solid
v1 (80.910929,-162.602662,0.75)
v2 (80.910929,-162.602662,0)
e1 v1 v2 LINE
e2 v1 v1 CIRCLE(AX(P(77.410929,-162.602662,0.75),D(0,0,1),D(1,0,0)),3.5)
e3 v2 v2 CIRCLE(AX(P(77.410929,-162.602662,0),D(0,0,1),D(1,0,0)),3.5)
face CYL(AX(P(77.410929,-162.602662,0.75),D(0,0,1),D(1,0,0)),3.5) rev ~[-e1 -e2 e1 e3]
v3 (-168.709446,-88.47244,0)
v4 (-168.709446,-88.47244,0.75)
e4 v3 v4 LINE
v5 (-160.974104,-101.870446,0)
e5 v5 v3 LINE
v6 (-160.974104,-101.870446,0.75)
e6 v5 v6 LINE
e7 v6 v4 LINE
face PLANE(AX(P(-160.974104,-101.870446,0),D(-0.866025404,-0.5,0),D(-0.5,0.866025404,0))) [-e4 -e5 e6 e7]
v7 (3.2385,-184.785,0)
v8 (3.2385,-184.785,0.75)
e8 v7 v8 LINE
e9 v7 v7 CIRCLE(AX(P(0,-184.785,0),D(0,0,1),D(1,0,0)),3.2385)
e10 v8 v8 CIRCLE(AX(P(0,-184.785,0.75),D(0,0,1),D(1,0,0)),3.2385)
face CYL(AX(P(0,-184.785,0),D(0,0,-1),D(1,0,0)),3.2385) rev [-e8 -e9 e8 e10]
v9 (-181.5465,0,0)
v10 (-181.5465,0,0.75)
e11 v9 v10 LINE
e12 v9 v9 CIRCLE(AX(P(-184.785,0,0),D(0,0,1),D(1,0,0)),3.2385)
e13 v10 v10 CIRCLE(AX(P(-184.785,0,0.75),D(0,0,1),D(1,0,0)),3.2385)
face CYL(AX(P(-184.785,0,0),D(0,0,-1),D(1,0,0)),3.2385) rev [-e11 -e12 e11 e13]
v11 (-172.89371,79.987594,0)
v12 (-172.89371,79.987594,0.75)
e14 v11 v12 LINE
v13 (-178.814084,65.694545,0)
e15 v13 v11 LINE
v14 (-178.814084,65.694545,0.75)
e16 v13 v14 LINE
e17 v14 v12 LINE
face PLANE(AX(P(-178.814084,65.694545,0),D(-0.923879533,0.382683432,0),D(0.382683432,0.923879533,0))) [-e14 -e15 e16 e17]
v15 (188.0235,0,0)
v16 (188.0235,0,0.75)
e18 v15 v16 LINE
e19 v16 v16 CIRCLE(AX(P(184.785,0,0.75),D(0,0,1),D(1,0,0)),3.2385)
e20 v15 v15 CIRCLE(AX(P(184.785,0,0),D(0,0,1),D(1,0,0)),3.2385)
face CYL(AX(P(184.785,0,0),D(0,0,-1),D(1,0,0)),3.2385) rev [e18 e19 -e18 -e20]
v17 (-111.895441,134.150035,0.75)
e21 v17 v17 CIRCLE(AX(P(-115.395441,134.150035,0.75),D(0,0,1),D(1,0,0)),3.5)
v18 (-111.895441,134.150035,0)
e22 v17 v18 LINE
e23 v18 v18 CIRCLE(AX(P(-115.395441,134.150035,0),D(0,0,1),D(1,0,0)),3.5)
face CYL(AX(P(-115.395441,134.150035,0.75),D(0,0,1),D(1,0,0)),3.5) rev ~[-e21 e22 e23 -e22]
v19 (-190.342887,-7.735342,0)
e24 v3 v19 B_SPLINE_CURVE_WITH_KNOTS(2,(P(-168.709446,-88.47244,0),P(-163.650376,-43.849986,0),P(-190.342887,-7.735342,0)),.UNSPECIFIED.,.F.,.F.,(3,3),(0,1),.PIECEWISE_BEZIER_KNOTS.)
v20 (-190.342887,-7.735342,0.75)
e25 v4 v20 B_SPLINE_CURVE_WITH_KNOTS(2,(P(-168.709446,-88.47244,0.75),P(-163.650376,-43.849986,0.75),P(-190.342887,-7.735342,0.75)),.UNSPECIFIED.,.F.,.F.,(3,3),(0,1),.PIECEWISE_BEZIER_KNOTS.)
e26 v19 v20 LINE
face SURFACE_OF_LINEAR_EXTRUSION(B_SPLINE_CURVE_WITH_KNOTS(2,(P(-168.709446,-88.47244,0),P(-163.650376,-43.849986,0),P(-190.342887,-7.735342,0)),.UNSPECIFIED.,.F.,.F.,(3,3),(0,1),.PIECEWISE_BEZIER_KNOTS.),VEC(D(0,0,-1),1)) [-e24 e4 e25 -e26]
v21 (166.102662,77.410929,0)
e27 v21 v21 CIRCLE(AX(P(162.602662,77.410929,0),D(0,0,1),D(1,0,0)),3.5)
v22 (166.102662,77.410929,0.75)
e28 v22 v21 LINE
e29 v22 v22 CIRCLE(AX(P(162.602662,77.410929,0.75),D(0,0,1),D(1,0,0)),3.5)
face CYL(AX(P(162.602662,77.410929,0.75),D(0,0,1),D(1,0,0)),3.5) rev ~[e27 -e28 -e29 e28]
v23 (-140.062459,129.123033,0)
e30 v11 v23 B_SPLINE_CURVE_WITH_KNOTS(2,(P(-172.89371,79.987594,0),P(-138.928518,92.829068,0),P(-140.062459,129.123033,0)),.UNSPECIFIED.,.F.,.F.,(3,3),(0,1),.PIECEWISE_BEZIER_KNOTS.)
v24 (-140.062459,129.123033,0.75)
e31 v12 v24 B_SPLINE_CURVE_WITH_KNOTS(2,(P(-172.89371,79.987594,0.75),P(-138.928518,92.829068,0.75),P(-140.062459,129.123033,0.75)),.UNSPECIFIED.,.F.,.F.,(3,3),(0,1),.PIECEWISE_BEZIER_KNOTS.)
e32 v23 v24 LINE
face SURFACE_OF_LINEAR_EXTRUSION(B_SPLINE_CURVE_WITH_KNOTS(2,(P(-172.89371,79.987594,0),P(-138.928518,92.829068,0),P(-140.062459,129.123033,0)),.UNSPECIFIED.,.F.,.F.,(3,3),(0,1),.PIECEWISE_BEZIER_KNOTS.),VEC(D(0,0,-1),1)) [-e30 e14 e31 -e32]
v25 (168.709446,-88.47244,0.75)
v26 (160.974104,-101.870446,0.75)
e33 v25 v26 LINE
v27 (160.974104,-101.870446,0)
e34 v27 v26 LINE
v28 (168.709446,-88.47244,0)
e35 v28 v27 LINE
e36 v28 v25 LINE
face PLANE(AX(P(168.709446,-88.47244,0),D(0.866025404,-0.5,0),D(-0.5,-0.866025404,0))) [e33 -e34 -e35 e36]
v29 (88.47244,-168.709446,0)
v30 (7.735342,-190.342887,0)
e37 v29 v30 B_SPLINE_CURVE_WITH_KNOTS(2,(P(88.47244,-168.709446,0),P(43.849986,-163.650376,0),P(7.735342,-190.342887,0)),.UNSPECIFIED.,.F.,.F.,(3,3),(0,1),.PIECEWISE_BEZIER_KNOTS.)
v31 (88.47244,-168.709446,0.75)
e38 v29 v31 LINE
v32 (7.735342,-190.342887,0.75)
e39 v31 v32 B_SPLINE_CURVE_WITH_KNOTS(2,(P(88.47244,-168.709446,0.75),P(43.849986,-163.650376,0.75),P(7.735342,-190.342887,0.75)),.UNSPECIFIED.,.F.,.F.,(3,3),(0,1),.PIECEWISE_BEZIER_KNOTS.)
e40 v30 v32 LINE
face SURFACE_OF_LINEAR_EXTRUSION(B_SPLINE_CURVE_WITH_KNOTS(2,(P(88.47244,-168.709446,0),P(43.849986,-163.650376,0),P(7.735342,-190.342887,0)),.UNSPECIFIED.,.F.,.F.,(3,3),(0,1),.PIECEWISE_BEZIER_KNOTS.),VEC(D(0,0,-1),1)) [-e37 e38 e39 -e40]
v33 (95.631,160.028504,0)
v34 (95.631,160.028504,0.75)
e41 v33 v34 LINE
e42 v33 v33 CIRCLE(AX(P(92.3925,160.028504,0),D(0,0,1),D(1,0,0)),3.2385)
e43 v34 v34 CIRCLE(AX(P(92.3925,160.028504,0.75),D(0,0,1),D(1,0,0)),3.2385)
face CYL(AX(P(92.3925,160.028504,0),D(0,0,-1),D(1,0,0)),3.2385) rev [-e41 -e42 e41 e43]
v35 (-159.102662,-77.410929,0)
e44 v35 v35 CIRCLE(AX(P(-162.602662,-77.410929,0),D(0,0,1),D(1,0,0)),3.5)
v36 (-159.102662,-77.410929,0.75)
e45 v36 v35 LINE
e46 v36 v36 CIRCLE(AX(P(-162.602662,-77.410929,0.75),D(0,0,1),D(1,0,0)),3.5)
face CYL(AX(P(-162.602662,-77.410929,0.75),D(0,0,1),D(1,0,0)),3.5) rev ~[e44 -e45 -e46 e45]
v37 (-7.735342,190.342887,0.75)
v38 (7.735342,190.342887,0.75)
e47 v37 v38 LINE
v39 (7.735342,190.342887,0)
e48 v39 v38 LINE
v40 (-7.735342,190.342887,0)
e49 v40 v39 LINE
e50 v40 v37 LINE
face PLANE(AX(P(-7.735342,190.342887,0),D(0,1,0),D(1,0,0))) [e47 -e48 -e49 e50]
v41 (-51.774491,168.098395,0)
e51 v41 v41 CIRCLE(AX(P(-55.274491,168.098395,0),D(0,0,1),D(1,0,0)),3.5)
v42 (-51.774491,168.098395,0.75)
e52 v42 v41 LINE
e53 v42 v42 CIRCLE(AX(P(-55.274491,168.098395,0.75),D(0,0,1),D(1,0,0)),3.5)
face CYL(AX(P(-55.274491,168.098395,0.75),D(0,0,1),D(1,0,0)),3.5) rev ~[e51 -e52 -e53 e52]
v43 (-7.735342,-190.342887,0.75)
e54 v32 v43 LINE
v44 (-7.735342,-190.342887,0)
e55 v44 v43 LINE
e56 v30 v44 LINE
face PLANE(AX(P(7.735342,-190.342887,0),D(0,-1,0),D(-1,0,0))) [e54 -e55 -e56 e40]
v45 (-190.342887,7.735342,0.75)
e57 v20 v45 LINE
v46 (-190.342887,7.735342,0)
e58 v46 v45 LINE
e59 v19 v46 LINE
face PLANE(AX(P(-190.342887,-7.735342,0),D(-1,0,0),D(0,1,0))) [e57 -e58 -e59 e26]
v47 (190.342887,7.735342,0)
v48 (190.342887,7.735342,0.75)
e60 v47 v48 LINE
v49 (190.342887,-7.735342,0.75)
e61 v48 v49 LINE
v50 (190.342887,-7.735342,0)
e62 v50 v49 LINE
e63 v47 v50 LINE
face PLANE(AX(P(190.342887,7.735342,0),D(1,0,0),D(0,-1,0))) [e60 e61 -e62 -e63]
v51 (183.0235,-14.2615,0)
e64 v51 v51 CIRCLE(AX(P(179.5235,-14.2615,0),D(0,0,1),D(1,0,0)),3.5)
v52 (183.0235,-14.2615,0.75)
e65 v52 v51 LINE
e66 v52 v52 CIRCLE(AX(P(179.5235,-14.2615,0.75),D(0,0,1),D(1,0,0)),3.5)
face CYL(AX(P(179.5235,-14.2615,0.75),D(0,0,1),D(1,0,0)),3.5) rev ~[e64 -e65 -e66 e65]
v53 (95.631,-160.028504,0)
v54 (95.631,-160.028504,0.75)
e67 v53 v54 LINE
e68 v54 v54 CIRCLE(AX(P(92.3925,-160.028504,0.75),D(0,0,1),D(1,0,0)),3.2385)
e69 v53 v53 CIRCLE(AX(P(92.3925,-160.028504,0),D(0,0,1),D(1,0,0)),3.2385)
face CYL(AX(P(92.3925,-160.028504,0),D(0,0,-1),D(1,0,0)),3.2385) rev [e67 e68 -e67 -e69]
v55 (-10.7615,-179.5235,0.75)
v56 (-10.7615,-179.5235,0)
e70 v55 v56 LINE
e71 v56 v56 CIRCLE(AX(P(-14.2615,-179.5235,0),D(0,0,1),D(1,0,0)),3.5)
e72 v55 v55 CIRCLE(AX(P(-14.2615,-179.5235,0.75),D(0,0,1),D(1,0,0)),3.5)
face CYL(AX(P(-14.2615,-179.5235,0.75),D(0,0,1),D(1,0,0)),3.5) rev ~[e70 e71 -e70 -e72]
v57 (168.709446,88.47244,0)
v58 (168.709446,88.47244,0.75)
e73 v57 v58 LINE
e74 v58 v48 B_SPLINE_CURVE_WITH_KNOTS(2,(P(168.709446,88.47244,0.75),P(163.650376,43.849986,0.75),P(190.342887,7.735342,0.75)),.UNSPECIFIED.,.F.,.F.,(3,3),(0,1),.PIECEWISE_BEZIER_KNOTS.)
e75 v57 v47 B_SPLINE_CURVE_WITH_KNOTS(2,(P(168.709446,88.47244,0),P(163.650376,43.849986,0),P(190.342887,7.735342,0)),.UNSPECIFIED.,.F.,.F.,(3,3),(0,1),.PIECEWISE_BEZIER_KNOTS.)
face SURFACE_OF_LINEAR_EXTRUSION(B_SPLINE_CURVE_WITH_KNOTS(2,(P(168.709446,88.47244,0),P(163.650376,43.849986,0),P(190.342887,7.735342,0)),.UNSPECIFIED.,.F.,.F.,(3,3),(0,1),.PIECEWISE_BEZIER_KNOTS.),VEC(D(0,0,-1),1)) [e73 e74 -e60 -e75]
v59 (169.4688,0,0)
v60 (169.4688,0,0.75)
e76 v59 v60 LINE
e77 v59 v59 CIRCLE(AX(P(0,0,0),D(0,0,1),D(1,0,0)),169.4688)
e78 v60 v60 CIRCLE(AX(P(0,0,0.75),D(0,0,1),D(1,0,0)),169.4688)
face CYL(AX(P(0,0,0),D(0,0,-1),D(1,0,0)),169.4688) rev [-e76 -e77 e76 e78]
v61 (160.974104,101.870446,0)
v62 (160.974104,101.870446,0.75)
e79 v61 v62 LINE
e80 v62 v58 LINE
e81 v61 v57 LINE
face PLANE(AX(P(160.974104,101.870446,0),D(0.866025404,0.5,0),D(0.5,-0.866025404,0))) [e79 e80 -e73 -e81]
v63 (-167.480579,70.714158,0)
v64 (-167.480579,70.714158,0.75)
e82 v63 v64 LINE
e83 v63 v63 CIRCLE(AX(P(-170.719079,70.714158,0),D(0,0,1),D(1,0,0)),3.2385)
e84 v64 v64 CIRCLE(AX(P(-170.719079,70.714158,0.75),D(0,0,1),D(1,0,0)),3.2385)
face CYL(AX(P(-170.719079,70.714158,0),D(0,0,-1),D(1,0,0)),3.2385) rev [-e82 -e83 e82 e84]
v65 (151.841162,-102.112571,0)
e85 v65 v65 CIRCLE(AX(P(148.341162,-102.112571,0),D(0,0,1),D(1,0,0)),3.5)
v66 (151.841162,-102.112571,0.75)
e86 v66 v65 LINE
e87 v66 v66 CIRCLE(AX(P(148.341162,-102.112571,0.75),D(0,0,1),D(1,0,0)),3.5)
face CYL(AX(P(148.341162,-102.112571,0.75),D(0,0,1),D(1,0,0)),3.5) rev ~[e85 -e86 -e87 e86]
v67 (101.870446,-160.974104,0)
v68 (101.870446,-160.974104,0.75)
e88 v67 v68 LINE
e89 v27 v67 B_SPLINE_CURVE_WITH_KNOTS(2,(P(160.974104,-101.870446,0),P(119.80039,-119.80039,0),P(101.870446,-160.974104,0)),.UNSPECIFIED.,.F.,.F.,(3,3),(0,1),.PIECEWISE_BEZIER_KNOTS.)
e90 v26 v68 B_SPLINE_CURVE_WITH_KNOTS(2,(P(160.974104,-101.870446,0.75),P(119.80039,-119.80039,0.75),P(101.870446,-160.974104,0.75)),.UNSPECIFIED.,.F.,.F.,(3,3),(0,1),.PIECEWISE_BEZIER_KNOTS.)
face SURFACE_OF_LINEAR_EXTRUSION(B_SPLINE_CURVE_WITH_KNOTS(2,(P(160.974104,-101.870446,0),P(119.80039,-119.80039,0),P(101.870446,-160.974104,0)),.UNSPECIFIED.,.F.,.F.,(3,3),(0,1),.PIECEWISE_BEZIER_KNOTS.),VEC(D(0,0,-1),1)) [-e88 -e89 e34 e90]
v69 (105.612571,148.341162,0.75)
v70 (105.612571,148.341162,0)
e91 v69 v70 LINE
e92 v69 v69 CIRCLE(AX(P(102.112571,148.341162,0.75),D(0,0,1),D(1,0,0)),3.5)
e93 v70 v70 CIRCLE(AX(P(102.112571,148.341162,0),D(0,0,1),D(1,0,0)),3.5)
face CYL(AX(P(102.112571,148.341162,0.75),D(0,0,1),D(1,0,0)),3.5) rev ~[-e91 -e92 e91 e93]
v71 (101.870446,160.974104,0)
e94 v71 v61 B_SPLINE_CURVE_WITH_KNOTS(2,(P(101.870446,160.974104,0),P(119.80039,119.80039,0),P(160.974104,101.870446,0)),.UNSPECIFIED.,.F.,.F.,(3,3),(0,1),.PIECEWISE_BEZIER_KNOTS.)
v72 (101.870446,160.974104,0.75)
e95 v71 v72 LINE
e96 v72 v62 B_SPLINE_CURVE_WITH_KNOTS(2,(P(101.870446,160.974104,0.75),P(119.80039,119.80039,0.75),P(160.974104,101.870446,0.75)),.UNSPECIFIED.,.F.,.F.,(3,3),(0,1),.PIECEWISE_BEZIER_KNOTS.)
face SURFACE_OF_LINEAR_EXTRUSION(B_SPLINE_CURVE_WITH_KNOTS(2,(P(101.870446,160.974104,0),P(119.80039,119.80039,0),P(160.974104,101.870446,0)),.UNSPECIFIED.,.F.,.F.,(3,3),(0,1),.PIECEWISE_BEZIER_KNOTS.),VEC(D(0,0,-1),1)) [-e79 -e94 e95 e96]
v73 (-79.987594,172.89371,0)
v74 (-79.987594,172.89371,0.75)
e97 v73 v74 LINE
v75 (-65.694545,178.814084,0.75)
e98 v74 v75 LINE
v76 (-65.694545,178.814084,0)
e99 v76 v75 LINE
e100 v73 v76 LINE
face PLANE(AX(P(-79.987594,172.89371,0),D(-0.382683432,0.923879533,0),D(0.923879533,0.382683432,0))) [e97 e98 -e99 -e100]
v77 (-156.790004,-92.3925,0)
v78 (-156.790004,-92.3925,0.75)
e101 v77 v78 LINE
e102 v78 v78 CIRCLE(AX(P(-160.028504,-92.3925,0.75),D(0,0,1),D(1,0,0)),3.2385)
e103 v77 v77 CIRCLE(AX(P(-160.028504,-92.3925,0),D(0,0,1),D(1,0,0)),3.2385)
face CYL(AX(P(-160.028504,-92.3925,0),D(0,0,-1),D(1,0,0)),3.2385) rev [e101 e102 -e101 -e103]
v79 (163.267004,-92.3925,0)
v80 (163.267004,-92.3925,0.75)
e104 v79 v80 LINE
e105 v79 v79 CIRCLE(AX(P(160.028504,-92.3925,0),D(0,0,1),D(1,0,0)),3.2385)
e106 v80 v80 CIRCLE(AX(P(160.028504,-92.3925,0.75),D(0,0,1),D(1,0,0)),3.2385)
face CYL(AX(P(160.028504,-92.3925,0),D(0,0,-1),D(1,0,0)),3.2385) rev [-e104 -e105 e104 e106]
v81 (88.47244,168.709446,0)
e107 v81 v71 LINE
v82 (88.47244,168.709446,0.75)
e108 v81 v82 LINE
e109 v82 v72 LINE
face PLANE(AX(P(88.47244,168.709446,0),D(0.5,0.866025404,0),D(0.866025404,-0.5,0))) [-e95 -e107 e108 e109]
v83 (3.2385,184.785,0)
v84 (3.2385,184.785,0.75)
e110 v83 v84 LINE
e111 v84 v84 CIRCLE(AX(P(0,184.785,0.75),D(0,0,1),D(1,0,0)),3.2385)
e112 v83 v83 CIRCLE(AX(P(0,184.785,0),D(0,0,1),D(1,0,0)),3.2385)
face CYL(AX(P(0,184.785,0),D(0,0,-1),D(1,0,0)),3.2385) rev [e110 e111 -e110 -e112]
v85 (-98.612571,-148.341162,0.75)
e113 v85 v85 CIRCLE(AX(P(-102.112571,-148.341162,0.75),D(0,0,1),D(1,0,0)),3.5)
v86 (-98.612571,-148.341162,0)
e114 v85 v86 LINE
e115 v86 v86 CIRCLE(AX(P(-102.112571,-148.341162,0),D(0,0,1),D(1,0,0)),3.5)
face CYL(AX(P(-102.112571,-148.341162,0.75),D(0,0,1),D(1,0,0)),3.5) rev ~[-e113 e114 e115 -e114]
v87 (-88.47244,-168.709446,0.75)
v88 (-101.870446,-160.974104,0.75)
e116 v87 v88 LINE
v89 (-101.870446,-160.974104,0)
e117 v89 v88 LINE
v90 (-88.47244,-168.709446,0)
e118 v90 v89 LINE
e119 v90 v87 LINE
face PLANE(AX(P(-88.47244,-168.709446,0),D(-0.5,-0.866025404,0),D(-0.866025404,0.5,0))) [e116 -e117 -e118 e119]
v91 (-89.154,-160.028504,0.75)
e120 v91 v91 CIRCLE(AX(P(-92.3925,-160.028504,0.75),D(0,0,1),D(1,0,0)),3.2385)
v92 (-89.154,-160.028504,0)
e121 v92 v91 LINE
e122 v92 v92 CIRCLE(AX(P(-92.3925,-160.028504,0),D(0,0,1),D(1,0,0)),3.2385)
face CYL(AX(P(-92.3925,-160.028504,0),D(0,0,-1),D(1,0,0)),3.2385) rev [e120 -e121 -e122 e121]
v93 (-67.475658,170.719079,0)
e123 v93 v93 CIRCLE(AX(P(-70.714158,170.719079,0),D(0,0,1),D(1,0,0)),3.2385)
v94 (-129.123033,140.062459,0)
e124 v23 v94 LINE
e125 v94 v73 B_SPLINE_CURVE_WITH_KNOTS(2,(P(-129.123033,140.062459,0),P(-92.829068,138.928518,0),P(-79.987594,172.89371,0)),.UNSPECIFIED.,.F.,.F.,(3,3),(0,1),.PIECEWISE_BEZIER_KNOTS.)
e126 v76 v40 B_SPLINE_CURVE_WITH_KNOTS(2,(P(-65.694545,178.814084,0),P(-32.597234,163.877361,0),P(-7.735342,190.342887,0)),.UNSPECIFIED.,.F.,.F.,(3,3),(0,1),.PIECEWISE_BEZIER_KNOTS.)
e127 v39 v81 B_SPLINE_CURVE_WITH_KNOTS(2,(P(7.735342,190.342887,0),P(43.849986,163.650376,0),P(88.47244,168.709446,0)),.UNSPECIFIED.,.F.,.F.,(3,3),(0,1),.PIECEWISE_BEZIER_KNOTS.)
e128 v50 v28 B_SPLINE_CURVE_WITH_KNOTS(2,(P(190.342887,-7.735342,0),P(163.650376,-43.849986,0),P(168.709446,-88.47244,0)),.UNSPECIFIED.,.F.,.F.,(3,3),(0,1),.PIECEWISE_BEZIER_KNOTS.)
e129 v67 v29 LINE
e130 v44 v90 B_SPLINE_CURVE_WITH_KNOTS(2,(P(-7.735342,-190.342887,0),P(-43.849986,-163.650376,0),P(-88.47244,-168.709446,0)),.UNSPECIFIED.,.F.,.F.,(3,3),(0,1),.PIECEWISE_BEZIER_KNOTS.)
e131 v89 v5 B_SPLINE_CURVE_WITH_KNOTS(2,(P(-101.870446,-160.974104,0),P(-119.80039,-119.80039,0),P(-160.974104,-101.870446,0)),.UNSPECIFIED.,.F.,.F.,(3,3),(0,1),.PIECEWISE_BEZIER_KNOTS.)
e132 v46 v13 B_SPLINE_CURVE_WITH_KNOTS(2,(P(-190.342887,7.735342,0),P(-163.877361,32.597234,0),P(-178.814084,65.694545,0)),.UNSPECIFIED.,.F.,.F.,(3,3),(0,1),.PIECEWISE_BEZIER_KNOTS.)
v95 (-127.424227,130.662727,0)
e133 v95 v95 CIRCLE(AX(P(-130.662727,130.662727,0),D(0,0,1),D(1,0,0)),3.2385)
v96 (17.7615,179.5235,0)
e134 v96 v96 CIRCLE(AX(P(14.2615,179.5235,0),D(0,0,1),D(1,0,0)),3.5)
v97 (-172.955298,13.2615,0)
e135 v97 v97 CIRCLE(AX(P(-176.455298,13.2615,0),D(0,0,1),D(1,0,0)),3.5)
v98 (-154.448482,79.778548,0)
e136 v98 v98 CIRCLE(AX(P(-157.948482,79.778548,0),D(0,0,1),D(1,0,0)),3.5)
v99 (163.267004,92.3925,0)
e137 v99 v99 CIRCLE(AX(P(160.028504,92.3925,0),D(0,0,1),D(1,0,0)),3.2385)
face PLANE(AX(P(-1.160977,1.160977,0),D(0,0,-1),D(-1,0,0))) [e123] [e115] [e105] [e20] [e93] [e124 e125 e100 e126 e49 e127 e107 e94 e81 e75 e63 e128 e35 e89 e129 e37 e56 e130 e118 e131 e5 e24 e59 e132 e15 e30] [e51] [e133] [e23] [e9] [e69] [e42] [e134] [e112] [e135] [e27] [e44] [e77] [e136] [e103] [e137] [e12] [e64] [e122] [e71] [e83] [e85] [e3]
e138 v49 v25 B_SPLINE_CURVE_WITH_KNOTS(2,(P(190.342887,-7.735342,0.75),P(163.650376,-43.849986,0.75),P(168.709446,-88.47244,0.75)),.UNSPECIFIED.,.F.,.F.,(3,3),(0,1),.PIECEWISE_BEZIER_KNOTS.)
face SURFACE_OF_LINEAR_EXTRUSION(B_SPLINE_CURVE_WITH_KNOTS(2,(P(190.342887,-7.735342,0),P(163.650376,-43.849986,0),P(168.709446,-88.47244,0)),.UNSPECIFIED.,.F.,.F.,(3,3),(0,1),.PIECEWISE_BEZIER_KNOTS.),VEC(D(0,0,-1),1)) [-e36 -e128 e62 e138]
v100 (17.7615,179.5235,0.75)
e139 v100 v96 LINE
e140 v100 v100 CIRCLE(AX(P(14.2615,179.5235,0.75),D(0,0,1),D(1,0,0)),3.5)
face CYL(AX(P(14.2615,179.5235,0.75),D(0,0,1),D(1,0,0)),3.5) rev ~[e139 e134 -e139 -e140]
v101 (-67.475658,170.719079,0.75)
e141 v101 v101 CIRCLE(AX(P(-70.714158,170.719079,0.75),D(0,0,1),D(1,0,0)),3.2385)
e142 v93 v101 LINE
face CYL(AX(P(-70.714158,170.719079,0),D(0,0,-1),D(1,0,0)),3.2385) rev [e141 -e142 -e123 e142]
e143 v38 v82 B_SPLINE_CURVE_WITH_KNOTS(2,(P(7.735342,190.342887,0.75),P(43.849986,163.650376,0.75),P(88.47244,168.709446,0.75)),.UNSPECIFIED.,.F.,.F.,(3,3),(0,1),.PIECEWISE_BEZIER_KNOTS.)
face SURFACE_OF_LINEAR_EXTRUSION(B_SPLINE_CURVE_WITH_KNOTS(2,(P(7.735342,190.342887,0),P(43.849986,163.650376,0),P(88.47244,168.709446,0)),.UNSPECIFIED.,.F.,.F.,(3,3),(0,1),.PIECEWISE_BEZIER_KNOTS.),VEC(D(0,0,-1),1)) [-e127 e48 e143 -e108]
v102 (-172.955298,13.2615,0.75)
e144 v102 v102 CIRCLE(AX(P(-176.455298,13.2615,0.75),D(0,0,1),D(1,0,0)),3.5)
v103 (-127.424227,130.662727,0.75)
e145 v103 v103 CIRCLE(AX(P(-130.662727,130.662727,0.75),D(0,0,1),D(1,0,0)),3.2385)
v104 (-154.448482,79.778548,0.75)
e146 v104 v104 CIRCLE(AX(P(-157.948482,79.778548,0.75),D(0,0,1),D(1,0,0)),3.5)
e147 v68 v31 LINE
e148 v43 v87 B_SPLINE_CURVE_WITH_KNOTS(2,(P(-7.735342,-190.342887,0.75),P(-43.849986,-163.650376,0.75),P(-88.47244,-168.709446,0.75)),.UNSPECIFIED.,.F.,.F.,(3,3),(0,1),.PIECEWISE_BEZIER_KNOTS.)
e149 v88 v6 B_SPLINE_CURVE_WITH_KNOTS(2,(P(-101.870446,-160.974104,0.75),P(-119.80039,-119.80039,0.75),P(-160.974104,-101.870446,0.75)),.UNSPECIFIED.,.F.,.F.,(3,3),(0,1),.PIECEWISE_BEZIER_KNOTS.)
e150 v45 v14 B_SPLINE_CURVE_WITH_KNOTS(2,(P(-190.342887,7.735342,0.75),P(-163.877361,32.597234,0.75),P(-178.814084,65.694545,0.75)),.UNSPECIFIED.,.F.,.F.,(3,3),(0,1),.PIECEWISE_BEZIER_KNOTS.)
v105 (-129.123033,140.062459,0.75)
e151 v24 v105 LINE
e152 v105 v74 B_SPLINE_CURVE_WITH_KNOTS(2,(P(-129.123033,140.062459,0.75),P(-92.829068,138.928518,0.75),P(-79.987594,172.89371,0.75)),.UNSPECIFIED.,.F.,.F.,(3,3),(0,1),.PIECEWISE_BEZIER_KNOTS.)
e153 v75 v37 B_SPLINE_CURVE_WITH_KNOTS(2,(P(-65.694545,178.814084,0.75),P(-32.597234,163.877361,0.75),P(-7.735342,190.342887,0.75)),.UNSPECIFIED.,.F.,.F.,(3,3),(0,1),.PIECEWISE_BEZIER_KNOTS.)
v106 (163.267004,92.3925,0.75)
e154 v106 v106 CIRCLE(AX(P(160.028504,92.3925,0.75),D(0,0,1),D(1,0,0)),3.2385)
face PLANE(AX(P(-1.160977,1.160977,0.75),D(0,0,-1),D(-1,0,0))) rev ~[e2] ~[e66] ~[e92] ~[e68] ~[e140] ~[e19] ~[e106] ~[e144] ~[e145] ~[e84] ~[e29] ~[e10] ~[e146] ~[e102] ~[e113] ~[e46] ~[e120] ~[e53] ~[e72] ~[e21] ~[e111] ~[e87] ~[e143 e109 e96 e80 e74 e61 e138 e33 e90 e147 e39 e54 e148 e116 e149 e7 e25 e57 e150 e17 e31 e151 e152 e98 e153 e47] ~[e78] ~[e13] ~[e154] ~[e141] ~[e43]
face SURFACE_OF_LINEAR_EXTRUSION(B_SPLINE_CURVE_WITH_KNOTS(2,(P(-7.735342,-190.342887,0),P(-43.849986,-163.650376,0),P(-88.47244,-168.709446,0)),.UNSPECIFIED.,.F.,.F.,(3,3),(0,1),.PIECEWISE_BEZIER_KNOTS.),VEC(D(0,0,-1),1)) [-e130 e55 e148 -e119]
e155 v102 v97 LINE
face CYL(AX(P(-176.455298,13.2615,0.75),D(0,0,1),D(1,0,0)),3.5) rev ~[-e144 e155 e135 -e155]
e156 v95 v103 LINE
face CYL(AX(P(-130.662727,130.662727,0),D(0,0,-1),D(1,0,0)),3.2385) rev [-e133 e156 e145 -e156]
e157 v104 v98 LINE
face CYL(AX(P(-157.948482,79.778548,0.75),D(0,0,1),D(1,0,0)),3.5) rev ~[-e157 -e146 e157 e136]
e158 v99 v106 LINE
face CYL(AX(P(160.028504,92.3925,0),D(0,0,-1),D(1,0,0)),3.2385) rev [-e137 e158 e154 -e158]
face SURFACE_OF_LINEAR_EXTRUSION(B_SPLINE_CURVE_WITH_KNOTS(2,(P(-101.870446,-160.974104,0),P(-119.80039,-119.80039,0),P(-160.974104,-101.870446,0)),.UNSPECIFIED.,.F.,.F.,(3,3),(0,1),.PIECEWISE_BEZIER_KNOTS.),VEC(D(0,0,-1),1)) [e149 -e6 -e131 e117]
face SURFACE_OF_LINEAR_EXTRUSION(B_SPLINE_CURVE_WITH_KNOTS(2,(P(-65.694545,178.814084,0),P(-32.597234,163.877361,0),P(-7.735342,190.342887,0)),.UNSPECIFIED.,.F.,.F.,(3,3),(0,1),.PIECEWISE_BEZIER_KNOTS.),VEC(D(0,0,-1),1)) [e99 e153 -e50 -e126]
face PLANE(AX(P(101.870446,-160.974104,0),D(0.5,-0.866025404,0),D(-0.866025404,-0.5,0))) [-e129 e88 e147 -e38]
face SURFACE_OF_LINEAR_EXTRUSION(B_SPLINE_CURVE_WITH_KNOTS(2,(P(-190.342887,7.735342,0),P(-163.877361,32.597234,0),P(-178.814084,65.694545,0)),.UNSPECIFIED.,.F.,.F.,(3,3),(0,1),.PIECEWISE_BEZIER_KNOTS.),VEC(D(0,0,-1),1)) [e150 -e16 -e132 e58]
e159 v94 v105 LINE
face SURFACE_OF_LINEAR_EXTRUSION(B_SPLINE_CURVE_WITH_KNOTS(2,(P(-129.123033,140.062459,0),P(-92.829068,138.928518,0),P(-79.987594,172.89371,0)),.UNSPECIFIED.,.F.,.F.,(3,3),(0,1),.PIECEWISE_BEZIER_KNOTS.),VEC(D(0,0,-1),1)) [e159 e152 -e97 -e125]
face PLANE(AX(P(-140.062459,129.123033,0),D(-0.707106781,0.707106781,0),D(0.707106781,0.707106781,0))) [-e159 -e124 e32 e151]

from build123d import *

# Parameters (mm, degrees)
SKETCH4_R           = 169.4688
SKETCH4_R_2         = 3.2385
BOSS_EXTRUDE2_DEPTH = 0.75
SKETCH8_R           = 3.5
CUT_EXTRUDE2_DEPTH  = 1.7500001


with BuildPart() as part:
    # Sketch4 → Boss-Extrude2 (new body)
    with BuildSketch(Plane.XY):
        with BuildLine():
            Line((-7.735342369, 190.342886598), (7.735342369, 190.342886598))
            add(Edge.make_bspline(
                [(7.735342369, 190.342886598), (43.849986057, 163.650375876), (88.472440301, 168.709446408)],
                knots=[0, 0, 0, 1, 1, 1], degree=2))
            Line((88.472440301, 168.709446408), (101.870446297, 160.974104039))
            add(Edge.make_bspline(
                [(101.870446297, 160.974104039), (119.800389819, 119.800389819), (160.974104039, 101.870446297)],
                knots=[0, 0, 0, 1, 1, 1], degree=2))
            Line((160.974104039, 101.870446297), (168.709446408, 88.472440301))
            add(Edge.make_bspline(
                [(168.709446408, 88.472440301), (163.650375876, 43.849986057), (190.342886598, 7.735342369)],
                knots=[0, 0, 0, 1, 1, 1], degree=2))
            Line((190.342886598, 7.735342369), (190.342886598, -7.735342369))
            add(Edge.make_bspline(
                [(190.342886598, -7.735342369), (163.650375876, -43.849986057), (168.709446408, -88.472440301)],
                knots=[0, 0, 0, 1, 1, 1], degree=2))
            Line((168.709446408, -88.472440301), (160.974104039, -101.870446297))
            add(Edge.make_bspline(
                [(160.974104039, -101.870446297), (119.800389819, -119.800389819), (101.870446297, -160.974104039)],
                knots=[0, 0, 0, 1, 1, 1], degree=2))
            Line((101.870446297, -160.974104039), (88.472440301, -168.709446408))
            add(Edge.make_bspline(
                [(88.472440301, -168.709446408), (43.849986057, -163.650375876), (7.735342369, -190.342886598)],
                knots=[0, 0, 0, 1, 1, 1], degree=2))
            Line((7.735342369, -190.342886598), (-7.735342369, -190.342886598))
            add(Edge.make_bspline(
                [(-7.735342369, -190.342886598), (-43.849986057, -163.650375876), (-88.472440301, -168.709446408)],
                knots=[0, 0, 0, 1, 1, 1], degree=2))
            Line((-88.472440301, -168.709446408), (-101.870446297, -160.974104039))
            add(Edge.make_bspline(
                [(-101.870446297, -160.974104039), (-119.800389819, -119.800389819), (-160.974104039, -101.870446297)],
                knots=[0, 0, 0, 1, 1, 1], degree=2))
            Line((-160.974104039, -101.870446297), (-168.709446408, -88.472440301))
            add(Edge.make_bspline(
                [(-168.709446408, -88.472440301), (-163.650375876, -43.849986057), (-190.342886598, -7.735342369)],
                knots=[0, 0, 0, 1, 1, 1], degree=2))
            Line((-190.342886598, -7.735342369), (-190.342886598, 7.735342369))
            add(Edge.make_bspline(
                [(-190.342886598, 7.735342369), (-163.877360858, 32.597233808), (-178.814084455, 65.694544678)],
                knots=[0, 0, 0, 1, 1, 1], degree=2))
            Line((-178.814084455, 65.694544678), (-172.893709719, 79.987593661))
            add(Edge.make_bspline(
                [(-172.893709719, 79.987593661), (-138.92851822, 92.829068072), (-140.062458908, 129.12303282)],
                knots=[0, 0, 0, 1, 1, 1], degree=2))
            Line((-140.062458908, 129.12303282), (-129.12303282, 140.062458908))
            add(Edge.make_bspline(
                [(-129.12303282, 140.062458908), (-92.829068072, 138.92851822), (-79.987593661, 172.893709719)],
                knots=[0, 0, 0, 1, 1, 1], degree=2))
            Line((-79.987593661, 172.893709719), (-65.694544678, 178.814084455))
            add(Edge.make_bspline(
                [(-65.694544678, 178.814084455), (-32.597233808, 163.877360858), (-7.735342369, 190.342886598)],
                knots=[0, 0, 0, 1, 1, 1], degree=2))
        make_face()
        Circle(SKETCH4_R, mode=Mode.SUBTRACT)
        with Locations((0, 184.785)):
            Circle(SKETCH4_R_2, mode=Mode.SUBTRACT)
        with Locations((-160.028504238, -92.3925)):
            Circle(SKETCH4_R_2, mode=Mode.SUBTRACT)
        with Locations((-92.3925, -160.028504238)):
            Circle(SKETCH4_R_2, mode=Mode.SUBTRACT)
        with Locations((0, -184.785)):
            Circle(SKETCH4_R_2, mode=Mode.SUBTRACT)
        with Locations((92.3925, -160.028504238)):
            Circle(SKETCH4_R_2, mode=Mode.SUBTRACT)
        with Locations((160.028504238, -92.3925)):
            Circle(SKETCH4_R_2, mode=Mode.SUBTRACT)
        with Locations((184.785, 0)):
            Circle(SKETCH4_R_2, mode=Mode.SUBTRACT)
        with Locations((160.028504238, 92.3925)):
            Circle(SKETCH4_R_2, mode=Mode.SUBTRACT)
        with Locations((92.3925, 160.028504238)):
            Circle(SKETCH4_R_2, mode=Mode.SUBTRACT)
        with Locations((-70.71415805, 170.719079415)):
            Circle(SKETCH4_R_2, mode=Mode.SUBTRACT)
        with Locations((-130.662726562, 130.662726562)):
            Circle(SKETCH4_R_2, mode=Mode.SUBTRACT)
        with Locations((-170.719079415, 70.71415805)):
            Circle(SKETCH4_R_2, mode=Mode.SUBTRACT)
        with Locations((-184.785, 0)):
            Circle(SKETCH4_R_2, mode=Mode.SUBTRACT)
    extrude(amount=BOSS_EXTRUDE2_DEPTH)

    # Sketch8 → Cut-Extrude2 (cut, through all)
    with BuildSketch(Plane.XY.offset(0.75)):
        with Locations((14.2615, 179.5235)):
            Circle(SKETCH8_R)
        with Locations((-176.455298363, 13.2615)):
            Circle(SKETCH8_R)
        with Locations((102.112571296, 148.341161576)):
            Circle(SKETCH8_R)
        with Locations((162.602661576, 77.410928704)):
            Circle(SKETCH8_R)
        with Locations((179.5235, -14.2615)):
            Circle(SKETCH8_R)
        with Locations((148.341161576, -102.112571296)):
            Circle(SKETCH8_R)
        with Locations((77.410928704, -162.602661576)):
            Circle(SKETCH8_R)
        with Locations((-14.2615, -179.5235)):
            Circle(SKETCH8_R)
        with Locations((-102.112571296, -148.341161576)):
            Circle(SKETCH8_R)
        with Locations((-162.602661576, -77.410928704)):
            Circle(SKETCH8_R)
        with Locations((-157.948482222, 79.778547657)):
            Circle(SKETCH8_R)
        with Locations((-115.39544147, 134.150034627)):
            Circle(SKETCH8_R)
        with Locations((-55.274490816, 168.098394899)):
            Circle(SKETCH8_R)
    extrude(amount=-CUT_EXTRUDE2_DEPTH, mode=Mode.SUBTRACT)


solid = part.part
